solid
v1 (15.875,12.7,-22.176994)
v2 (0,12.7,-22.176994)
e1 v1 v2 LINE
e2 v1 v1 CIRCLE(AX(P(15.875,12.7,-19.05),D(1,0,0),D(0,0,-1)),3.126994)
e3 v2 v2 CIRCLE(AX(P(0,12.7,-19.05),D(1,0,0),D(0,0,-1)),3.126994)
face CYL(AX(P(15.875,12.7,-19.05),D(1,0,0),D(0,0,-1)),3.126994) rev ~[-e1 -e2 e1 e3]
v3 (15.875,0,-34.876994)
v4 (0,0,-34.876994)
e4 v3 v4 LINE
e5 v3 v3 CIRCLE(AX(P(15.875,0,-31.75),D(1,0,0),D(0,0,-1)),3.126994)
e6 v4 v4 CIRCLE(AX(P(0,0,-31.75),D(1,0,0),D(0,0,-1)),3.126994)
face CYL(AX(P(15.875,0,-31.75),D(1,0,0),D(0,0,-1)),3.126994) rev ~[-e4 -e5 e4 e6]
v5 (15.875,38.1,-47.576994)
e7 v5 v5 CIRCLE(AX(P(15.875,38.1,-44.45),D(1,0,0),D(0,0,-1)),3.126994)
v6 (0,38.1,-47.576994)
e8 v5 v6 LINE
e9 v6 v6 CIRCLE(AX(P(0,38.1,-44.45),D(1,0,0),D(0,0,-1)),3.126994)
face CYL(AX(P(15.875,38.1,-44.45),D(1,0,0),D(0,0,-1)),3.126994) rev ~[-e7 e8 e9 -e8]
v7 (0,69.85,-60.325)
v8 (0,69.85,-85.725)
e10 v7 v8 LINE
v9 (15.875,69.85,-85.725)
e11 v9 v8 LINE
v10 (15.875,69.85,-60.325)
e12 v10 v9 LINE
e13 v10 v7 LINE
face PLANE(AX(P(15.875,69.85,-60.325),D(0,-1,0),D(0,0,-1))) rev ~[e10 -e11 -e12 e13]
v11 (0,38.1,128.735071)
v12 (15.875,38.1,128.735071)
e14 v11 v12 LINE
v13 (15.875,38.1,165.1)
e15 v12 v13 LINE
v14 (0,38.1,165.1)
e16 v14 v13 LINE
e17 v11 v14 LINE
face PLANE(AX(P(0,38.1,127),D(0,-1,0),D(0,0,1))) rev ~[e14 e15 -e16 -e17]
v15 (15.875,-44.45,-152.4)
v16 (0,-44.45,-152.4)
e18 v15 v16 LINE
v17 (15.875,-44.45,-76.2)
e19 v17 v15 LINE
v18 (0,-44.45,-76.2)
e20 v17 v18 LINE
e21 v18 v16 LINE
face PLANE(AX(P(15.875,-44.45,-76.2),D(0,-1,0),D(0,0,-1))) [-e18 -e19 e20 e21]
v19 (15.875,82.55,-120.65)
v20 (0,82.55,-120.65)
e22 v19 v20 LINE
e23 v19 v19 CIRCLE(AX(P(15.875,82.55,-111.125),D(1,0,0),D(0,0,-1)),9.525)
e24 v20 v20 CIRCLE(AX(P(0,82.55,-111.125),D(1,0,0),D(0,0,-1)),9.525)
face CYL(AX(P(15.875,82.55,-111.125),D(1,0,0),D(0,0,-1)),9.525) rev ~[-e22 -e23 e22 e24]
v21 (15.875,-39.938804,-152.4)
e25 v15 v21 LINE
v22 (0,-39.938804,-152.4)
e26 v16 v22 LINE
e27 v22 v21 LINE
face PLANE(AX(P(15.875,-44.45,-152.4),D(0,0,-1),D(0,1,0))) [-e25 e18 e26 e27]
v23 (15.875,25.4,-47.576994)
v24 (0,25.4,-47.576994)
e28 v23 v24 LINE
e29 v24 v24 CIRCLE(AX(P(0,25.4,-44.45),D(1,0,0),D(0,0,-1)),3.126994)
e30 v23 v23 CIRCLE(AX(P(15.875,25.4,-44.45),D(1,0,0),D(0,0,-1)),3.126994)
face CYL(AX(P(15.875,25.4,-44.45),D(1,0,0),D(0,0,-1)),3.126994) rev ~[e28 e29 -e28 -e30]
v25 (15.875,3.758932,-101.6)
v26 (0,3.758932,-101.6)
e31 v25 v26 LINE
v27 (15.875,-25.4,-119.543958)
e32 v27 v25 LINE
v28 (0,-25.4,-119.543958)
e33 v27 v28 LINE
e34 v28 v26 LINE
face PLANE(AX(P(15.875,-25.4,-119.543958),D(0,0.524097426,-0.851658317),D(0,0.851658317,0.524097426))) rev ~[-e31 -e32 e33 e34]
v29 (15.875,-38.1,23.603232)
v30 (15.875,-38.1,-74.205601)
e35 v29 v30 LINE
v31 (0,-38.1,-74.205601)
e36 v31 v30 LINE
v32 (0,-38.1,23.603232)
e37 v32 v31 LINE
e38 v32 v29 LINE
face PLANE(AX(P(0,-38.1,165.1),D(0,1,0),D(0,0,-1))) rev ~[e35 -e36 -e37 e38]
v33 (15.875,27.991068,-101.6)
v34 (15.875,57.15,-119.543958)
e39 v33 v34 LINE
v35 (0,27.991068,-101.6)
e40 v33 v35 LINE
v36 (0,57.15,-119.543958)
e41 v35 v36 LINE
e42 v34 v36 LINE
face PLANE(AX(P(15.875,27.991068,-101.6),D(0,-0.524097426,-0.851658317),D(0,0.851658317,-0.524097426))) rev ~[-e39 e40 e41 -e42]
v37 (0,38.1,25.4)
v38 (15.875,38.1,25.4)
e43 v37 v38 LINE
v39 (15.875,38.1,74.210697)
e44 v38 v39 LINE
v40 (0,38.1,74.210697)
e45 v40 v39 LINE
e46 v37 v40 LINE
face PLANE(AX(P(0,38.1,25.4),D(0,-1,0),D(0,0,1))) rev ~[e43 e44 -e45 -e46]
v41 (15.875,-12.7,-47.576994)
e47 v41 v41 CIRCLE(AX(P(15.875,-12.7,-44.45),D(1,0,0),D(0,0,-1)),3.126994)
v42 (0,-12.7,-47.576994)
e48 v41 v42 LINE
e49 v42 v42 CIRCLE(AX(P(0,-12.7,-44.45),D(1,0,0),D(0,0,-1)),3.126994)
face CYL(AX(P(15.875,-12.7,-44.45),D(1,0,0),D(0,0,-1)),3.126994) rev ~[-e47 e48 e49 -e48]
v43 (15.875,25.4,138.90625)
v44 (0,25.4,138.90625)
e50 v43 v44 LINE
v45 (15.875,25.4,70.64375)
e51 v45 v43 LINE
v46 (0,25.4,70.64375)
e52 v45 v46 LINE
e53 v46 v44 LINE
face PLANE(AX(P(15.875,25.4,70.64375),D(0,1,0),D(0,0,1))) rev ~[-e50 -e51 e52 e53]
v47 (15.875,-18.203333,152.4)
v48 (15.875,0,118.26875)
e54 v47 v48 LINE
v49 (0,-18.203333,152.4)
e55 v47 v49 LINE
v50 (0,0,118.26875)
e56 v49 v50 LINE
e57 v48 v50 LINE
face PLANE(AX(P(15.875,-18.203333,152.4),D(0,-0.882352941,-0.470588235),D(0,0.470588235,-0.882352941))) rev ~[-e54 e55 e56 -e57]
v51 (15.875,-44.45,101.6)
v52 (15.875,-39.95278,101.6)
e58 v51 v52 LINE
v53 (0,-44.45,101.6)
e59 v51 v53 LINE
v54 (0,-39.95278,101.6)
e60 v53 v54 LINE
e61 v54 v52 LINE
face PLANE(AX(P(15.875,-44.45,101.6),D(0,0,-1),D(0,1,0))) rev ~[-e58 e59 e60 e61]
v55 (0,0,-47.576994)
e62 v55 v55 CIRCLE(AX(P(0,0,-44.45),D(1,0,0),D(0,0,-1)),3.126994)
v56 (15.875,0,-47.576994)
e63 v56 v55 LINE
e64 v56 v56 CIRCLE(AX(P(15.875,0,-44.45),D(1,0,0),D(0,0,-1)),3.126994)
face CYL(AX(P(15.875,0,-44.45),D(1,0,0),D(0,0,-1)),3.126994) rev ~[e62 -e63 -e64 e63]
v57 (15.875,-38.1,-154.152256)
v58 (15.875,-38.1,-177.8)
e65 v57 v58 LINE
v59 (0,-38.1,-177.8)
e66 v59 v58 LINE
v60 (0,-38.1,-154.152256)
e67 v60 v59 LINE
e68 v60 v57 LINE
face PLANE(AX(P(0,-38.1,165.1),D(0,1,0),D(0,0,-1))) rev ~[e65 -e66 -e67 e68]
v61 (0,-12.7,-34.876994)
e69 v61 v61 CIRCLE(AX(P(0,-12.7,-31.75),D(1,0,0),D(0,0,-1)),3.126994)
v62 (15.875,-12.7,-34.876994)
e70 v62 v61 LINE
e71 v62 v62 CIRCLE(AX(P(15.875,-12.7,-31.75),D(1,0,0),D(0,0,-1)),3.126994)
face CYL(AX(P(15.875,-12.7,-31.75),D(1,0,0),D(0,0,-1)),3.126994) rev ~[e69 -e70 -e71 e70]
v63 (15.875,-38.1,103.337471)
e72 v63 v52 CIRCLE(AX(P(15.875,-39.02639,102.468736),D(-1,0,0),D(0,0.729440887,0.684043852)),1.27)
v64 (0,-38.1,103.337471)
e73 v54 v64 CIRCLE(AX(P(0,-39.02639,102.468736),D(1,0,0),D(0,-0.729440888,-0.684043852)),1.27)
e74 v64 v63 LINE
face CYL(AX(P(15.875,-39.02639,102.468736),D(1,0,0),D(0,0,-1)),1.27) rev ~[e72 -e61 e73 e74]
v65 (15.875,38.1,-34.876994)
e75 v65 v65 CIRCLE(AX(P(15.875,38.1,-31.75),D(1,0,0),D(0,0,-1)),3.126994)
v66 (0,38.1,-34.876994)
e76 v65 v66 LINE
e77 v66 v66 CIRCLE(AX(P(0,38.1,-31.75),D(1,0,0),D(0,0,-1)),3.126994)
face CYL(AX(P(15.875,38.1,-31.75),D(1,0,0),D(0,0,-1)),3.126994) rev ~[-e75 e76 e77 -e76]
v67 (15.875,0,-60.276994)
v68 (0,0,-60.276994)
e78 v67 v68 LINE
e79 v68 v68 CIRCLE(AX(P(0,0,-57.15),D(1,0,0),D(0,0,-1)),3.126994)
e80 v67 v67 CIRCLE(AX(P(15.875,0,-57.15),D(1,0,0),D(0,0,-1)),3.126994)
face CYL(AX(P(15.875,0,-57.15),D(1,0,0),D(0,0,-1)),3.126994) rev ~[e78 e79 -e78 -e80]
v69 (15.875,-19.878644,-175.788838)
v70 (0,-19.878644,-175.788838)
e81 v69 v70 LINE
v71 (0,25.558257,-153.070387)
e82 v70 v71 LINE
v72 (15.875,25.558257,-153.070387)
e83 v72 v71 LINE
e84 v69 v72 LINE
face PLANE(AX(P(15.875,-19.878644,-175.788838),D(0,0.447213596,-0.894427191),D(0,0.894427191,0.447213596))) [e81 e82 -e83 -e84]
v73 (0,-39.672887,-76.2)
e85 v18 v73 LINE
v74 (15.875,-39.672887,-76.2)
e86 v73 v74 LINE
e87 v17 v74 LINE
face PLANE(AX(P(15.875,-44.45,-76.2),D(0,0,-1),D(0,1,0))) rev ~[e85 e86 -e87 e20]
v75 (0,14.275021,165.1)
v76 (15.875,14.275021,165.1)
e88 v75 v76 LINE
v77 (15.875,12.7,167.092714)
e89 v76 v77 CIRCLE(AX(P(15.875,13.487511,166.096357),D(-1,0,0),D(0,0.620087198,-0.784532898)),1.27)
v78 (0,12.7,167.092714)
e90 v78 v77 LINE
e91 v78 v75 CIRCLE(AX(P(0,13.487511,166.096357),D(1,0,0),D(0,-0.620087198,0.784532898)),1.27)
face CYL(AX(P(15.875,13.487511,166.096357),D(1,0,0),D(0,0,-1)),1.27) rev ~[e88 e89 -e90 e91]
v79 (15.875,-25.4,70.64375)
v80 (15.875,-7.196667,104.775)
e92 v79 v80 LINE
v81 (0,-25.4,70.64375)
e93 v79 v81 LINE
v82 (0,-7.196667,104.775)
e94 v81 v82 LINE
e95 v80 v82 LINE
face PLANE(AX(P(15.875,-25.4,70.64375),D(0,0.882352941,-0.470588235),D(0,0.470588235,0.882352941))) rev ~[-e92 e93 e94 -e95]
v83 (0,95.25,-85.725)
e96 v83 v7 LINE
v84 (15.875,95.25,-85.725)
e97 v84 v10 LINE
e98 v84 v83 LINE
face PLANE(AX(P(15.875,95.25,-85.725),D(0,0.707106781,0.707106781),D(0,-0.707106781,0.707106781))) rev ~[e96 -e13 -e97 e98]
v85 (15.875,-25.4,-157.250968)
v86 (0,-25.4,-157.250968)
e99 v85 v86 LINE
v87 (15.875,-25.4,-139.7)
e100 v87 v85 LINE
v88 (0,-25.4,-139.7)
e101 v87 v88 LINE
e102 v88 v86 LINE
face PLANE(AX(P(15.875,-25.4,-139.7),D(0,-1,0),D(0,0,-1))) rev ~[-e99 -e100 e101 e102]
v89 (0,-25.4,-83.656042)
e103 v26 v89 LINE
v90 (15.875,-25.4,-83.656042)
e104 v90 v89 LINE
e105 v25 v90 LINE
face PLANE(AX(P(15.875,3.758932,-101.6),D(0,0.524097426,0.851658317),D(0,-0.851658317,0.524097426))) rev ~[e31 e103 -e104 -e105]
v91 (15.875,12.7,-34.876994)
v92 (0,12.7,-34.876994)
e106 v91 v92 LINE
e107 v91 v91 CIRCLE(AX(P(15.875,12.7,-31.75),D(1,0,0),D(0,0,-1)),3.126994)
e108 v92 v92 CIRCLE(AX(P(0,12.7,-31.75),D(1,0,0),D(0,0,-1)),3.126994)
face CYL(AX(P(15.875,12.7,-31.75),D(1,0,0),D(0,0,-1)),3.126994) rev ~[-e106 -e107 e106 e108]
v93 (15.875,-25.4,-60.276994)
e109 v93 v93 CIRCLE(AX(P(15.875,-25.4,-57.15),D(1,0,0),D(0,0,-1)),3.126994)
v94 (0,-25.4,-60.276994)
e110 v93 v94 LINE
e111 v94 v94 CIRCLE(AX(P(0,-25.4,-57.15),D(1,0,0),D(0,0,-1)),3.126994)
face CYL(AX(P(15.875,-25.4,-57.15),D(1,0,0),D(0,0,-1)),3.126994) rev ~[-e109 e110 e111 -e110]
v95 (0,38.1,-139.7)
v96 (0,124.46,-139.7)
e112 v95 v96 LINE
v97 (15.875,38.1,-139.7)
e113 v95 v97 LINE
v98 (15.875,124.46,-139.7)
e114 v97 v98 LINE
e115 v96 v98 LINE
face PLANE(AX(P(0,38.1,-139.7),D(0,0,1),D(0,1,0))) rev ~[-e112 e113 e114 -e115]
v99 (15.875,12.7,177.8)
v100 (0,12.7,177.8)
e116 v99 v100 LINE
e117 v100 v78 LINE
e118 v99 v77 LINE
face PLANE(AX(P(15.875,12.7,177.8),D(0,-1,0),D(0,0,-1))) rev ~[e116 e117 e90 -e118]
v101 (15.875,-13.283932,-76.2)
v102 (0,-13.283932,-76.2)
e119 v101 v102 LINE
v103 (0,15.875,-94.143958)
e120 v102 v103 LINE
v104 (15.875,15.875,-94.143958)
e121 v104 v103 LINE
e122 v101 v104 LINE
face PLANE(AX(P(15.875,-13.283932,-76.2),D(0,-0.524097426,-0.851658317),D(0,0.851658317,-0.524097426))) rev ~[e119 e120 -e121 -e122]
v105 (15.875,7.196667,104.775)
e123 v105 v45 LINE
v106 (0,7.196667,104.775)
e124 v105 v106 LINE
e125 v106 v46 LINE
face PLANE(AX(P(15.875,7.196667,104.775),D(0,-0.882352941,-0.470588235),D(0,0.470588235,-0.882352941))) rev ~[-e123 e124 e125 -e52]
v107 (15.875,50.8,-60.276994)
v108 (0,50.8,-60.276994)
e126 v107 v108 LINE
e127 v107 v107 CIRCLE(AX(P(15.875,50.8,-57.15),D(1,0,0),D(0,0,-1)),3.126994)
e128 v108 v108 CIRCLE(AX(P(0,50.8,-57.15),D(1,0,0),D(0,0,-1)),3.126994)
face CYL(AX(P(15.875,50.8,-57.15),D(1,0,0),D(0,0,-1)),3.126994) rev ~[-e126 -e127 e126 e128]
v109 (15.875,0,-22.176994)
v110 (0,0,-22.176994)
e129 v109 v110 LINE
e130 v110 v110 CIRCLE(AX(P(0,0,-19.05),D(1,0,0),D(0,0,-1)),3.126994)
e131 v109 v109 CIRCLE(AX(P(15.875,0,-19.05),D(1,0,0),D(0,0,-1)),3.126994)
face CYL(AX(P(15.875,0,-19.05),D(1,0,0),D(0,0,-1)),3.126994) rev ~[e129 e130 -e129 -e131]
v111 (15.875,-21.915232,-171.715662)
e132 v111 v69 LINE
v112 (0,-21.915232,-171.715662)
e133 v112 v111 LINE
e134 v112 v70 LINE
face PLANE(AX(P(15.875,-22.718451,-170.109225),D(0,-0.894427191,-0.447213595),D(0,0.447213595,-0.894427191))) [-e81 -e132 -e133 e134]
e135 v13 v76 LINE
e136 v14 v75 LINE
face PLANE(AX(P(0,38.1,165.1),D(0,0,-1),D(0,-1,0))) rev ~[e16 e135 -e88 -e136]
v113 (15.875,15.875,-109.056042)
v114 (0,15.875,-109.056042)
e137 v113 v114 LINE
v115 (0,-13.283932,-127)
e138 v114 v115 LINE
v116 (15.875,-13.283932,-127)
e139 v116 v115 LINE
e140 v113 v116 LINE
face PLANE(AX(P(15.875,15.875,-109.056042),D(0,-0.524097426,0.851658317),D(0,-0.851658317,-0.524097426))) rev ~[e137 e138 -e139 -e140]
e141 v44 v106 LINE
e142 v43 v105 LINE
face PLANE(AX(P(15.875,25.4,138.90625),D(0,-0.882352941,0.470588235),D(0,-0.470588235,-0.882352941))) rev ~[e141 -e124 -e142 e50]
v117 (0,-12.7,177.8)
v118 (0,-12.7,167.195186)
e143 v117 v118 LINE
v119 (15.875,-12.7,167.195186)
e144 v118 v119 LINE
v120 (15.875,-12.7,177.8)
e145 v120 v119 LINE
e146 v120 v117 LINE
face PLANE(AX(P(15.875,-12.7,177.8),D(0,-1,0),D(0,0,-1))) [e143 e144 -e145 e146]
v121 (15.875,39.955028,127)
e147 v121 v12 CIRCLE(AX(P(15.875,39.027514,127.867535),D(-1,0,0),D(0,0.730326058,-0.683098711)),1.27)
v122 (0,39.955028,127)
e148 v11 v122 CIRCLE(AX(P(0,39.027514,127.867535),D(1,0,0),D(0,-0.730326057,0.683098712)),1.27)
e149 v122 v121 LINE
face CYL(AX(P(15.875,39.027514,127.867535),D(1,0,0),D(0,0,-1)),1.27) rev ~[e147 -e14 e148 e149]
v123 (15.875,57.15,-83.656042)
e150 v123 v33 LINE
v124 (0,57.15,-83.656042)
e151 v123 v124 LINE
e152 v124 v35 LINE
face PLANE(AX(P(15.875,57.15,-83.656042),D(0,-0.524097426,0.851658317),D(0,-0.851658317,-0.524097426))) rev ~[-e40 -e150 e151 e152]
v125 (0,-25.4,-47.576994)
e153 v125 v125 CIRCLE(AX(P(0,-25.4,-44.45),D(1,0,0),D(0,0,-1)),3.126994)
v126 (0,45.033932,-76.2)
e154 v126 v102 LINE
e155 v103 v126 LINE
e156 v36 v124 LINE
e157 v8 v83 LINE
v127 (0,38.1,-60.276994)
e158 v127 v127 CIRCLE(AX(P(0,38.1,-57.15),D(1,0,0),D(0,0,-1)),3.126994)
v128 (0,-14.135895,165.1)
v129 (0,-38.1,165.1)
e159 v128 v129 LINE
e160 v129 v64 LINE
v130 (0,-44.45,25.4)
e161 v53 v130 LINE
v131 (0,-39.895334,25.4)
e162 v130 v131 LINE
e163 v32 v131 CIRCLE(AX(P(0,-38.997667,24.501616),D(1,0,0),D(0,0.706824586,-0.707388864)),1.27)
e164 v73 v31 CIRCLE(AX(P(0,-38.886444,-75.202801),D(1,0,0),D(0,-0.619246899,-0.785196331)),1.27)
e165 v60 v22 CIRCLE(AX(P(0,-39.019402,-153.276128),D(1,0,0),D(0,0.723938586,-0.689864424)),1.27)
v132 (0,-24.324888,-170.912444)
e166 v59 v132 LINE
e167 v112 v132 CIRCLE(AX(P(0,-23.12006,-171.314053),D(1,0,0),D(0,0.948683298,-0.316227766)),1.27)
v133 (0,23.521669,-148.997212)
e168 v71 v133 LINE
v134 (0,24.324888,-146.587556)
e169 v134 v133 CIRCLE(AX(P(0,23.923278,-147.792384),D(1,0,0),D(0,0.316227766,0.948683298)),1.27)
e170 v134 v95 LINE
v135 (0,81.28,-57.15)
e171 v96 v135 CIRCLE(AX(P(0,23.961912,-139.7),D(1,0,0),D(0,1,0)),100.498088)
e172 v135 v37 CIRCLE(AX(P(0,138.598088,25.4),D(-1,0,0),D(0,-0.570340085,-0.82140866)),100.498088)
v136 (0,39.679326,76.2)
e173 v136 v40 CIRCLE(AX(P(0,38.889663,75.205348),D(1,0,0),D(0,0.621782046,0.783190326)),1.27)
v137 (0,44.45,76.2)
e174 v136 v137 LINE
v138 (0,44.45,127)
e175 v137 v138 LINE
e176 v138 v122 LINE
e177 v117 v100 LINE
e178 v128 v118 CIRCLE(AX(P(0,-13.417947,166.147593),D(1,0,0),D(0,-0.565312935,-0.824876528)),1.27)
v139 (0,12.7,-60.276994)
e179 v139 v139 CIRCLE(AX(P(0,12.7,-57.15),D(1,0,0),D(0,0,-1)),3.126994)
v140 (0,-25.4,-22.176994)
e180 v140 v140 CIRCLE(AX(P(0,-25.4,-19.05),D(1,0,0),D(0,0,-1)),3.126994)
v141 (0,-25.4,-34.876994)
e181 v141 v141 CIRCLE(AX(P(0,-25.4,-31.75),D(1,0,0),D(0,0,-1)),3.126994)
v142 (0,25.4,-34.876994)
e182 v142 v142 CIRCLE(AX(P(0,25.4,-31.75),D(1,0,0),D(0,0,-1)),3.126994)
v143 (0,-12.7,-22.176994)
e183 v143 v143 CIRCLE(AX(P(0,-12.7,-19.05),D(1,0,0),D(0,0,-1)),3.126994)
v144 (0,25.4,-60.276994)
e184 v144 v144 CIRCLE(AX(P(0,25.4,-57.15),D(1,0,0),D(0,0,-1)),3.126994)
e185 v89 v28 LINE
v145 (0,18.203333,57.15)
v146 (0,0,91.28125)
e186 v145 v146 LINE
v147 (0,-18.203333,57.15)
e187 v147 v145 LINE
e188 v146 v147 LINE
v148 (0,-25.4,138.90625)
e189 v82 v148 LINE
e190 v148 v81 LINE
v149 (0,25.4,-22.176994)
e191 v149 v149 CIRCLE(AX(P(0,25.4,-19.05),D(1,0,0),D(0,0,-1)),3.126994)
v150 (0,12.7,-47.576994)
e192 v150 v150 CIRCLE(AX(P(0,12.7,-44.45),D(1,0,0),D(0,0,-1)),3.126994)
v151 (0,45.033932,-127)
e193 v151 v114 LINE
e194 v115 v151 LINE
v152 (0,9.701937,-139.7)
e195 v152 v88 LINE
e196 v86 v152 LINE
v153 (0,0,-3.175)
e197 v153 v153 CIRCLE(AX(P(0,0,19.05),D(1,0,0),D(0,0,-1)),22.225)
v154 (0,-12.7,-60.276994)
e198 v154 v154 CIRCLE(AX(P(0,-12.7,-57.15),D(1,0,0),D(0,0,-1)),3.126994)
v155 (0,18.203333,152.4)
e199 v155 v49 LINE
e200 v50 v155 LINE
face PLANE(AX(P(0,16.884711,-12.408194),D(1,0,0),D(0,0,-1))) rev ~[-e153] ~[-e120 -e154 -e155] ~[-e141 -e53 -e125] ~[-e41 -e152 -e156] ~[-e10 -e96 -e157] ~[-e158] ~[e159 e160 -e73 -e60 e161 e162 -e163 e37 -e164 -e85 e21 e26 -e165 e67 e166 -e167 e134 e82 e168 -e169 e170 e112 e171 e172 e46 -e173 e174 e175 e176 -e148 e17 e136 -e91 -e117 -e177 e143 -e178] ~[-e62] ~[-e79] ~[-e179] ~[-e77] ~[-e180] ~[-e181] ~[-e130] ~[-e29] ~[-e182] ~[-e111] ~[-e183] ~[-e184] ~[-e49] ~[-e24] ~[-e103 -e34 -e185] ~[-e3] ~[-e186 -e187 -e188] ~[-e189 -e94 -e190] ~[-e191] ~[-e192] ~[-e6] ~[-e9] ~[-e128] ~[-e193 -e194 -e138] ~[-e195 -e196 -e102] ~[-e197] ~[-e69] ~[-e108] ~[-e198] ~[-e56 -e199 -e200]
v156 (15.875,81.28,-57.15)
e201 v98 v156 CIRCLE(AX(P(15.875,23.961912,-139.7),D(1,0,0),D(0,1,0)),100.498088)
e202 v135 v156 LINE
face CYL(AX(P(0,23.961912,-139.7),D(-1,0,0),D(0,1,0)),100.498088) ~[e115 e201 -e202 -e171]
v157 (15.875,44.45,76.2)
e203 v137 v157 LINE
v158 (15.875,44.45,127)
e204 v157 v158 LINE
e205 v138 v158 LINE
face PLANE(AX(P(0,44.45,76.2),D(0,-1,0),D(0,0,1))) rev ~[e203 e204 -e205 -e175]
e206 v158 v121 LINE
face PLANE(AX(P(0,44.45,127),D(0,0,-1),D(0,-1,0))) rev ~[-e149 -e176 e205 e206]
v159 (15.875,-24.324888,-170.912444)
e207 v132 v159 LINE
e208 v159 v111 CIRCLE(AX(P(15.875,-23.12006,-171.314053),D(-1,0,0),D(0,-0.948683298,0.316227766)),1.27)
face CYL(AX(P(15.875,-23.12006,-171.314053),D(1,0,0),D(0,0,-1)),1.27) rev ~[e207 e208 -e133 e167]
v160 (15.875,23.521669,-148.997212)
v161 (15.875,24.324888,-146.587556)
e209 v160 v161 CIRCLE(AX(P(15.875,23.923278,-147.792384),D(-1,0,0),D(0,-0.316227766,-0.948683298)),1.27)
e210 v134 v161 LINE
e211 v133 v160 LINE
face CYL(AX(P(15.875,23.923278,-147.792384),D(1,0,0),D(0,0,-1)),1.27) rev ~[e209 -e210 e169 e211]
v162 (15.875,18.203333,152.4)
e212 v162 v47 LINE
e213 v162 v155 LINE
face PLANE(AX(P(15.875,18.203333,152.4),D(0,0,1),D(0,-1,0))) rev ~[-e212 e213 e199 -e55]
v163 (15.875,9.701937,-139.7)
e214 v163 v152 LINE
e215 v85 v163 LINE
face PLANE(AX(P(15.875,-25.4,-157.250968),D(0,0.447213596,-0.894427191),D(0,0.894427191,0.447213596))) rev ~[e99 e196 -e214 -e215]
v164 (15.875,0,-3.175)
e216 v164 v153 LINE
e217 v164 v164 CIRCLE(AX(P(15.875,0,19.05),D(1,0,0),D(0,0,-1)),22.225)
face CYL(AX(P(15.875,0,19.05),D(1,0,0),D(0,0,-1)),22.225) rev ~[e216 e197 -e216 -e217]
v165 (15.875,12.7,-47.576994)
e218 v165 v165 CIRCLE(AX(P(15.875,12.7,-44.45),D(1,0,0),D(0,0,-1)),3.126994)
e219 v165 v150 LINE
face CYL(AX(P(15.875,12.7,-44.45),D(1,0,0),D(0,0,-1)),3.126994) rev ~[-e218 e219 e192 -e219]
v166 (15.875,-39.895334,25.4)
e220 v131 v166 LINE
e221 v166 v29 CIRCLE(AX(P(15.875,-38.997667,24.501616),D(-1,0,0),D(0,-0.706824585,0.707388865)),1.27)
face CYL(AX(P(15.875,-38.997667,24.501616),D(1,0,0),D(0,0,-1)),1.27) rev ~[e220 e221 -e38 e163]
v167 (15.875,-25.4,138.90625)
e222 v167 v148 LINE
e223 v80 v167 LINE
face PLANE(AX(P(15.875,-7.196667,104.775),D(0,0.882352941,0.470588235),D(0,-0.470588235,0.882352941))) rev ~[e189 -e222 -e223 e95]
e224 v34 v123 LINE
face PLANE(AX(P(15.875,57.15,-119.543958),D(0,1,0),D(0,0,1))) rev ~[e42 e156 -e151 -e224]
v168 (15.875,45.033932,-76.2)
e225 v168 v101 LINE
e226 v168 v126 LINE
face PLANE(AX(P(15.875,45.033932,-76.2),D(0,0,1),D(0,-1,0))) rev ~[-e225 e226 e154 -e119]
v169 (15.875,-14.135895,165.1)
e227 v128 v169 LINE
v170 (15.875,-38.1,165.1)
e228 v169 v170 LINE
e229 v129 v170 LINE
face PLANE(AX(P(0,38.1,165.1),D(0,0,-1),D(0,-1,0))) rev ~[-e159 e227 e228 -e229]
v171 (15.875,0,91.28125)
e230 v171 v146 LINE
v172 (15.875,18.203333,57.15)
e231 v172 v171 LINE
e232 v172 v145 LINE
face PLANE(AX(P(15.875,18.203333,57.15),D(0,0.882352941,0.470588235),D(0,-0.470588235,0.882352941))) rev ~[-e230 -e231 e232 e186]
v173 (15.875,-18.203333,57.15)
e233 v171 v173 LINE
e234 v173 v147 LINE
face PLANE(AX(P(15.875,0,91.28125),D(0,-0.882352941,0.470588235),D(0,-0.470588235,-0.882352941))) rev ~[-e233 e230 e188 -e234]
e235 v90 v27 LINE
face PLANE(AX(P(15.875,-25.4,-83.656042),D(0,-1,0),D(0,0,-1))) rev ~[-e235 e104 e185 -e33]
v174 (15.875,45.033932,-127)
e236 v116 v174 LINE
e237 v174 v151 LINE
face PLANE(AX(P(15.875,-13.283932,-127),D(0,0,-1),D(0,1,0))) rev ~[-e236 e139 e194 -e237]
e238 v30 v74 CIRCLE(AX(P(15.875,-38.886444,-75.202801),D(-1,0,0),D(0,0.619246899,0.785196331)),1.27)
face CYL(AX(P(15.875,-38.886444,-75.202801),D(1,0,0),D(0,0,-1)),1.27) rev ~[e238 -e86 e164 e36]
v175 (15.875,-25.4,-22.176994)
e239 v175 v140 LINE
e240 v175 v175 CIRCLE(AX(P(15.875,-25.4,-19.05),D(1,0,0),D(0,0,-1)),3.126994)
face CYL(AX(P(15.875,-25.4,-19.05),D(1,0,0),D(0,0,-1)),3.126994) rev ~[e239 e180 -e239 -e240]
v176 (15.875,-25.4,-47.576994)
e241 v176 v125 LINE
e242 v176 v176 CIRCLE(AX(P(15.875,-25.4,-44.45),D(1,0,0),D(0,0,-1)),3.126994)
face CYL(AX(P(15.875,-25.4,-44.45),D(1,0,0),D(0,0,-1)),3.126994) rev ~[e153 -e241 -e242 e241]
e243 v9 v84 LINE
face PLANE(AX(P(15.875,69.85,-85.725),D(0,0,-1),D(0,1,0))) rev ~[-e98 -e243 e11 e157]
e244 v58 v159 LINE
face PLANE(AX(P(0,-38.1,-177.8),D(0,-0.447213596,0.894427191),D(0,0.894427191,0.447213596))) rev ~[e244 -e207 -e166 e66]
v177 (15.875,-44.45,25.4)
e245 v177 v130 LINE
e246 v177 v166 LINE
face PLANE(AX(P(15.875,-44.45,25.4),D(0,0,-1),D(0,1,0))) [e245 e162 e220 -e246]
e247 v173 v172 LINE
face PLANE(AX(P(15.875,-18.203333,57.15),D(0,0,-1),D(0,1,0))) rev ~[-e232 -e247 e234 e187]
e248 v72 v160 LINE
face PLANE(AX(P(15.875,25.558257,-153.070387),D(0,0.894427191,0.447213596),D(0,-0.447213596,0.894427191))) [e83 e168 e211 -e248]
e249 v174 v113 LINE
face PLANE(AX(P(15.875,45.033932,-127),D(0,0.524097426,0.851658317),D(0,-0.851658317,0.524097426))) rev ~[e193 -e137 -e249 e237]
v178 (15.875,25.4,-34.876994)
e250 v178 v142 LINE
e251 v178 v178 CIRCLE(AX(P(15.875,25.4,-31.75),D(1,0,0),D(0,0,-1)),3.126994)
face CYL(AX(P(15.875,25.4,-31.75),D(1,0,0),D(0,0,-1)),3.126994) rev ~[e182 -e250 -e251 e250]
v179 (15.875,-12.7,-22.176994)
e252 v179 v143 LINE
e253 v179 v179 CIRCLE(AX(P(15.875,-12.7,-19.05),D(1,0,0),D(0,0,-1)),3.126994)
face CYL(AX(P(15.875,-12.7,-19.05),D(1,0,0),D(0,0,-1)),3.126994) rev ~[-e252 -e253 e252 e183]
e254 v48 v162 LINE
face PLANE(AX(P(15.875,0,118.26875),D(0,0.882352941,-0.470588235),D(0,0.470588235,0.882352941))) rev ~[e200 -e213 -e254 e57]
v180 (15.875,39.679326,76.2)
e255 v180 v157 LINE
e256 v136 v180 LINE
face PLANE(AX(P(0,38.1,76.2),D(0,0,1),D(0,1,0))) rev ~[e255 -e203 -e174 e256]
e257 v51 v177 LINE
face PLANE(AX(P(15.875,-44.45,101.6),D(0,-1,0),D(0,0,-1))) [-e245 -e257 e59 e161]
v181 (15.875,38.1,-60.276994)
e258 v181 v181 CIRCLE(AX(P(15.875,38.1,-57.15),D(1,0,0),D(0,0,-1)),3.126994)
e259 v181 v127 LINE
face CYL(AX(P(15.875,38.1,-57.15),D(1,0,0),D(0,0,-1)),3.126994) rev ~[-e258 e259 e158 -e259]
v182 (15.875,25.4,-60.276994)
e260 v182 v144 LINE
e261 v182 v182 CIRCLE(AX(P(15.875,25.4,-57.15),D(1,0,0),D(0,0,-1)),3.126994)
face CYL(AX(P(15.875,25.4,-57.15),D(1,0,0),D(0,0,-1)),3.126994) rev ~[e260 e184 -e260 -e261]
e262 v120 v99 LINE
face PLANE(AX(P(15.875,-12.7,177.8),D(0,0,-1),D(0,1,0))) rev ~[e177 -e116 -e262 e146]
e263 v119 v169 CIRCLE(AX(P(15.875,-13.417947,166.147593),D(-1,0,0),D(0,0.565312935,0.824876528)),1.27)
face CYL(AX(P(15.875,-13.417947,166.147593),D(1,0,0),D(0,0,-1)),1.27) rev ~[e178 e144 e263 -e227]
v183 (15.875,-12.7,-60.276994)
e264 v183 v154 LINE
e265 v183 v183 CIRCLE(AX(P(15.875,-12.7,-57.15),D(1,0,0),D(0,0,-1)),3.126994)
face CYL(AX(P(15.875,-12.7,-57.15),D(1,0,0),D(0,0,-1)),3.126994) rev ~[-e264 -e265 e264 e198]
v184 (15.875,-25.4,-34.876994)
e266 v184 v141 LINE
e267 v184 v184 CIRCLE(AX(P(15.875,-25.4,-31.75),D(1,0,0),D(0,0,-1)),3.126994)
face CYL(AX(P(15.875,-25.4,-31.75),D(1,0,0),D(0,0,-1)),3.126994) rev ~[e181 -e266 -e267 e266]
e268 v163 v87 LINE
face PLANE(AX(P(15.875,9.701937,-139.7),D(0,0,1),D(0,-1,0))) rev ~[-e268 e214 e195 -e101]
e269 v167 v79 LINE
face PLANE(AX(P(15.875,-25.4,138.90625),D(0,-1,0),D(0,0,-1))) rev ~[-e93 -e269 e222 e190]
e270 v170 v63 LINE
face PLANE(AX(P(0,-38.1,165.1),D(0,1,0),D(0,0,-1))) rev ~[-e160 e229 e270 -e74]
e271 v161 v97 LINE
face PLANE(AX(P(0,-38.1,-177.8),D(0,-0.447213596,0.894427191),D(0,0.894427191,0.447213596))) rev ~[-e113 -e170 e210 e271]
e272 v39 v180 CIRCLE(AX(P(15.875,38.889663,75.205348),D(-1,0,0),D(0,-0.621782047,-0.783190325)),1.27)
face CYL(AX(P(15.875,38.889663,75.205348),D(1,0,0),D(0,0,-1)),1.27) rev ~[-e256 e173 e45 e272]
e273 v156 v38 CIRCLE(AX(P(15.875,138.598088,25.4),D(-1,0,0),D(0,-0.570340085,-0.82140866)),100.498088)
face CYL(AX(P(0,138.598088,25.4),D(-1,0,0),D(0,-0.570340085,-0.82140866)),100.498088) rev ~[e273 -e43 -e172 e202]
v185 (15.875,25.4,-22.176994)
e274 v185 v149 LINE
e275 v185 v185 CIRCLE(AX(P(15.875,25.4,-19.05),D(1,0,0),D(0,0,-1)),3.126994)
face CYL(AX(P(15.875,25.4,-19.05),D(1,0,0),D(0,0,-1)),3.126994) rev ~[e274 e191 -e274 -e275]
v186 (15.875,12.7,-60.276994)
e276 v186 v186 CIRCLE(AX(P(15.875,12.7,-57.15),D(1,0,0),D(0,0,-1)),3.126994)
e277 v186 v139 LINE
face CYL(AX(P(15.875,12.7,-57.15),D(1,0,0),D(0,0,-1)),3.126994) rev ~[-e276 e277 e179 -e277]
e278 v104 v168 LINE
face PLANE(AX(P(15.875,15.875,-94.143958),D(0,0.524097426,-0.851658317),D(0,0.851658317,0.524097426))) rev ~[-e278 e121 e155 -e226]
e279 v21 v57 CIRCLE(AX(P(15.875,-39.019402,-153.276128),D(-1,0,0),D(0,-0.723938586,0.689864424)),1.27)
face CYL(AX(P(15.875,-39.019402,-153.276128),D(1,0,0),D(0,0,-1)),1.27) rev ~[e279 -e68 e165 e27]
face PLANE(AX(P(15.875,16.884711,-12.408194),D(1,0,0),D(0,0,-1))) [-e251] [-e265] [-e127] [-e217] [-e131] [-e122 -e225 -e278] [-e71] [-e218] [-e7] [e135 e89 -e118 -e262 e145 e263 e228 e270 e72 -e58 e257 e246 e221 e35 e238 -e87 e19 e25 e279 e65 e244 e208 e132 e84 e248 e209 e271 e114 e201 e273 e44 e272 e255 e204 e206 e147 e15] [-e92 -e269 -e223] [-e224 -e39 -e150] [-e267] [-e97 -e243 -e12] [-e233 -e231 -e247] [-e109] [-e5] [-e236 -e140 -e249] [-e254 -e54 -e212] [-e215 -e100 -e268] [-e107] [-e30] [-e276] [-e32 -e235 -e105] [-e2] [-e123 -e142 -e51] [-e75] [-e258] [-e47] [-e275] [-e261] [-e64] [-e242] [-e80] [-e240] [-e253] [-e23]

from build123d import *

# Parameters (mm, degrees)
BOSS_EXTRUDE1_DEPTH = 15.875
SKETCH2_R           = 9.525
CUT_EXTRUDE1_DEPTH  = 218.612378382
SKETCH3_W           = 76.2
SKETCH3_H           = 6.35
SKETCH3_W_2         = 12.7
SKETCH3_H_2         = 25.4
BOSS_EXTRUDE2_DEPTH = 15.875
SKETCH9_R           = 22.225
CUT_EXTRUDE4_DEPTH  = 218.612378382
CUT_EXTRUDE6_DEPTH  = 218.612378382
BOSS_EXTRUDE3_DEPTH = 15.875
SKETCH15_R          = 1.27
CUT_EXTRUDE8_DEPTH  = 218.612378382
SKETCH13_R          = 3.126994
CUT_EXTRUDE9_DEPTH  = 218.612378382
CUT_EXTRUDE10_DEPTH = 218.612378382


with BuildPart() as part:
    # Sketch1 → Boss-Extrude1 (new body)
    with BuildSketch(Plane(origin=(0, 0, 0), x_dir=(0, 0, -1), z_dir=(1, 0, 0))):
        with BuildLine():
            ThreePointArc((57.15, 81.28), (21.180615335, 49.546911859), (-25.4, 38.1))
            Line((-25.4, 38.1), (-76.2, 38.1))
            Line((-76.2, 38.1), (-76.2, 44.45))
            Line((-76.2, 44.45), (-127, 44.45))
            Line((-127, 44.45), (-127, 38.1))
            Line((-127, 38.1), (-165.1, 38.1))
            Line((-165.1, 38.1), (-165.1, -38.1))
            Line((-165.1, -38.1), (177.8, -38.1))
            Line((177.8, -38.1), (139.7, 38.1))
            Line((139.7, 38.1), (139.7, 124.46))
            ThreePointArc((139.7, 124.46), (93.119384665, 113.013088141), (57.15, 81.28))
        make_face()
    extrude(amount=BOSS_EXTRUDE1_DEPTH)

    # Sketch2 → Cut-Extrude1 (cut, through all)
    with BuildSketch(Plane(origin=(15.875, 0, 0), x_dir=(0, 0, -1), z_dir=(1, 0, 0))):
        with Locations((111.125, 82.55)):
            Circle(SKETCH2_R)
    extrude(amount=-CUT_EXTRUDE1_DEPTH, mode=Mode.SUBTRACT)

    # Sketch3 → Boss-Extrude2 (add)
    with BuildSketch(Plane(origin=(15.875, 0, 0), x_dir=(0, 0, -1), z_dir=(1, 0, 0))):
        with Locations((114.3, -41.275)):
            Rectangle(SKETCH3_W, SKETCH3_H)
        with Locations((-63.5, -41.275)):
            Rectangle(SKETCH3_W, SKETCH3_H)
        with Locations((-171.45, 0)):
            Rectangle(SKETCH3_W_2, SKETCH3_H_2)
    extrude(amount=-BOSS_EXTRUDE2_DEPTH)

    # Sketch9 → Cut-Extrude4 (cut, through all)
    with BuildSketch(Plane(origin=(15.875, 0, 0), x_dir=(0, 0, -1), z_dir=(1, 0, 0))):
        with Locations((-19.05, 0)):
            Circle(SKETCH9_R)
    extrude(amount=-CUT_EXTRUDE4_DEPTH, mode=Mode.SUBTRACT)

    # Sketch12 → Cut-Extrude6 (cut, through all)
    with BuildSketch(Plane(origin=(15.875, 0, 0), x_dir=(0, 0, -1), z_dir=(1, 0, 0))):
        Polygon((139.7, 9.701936686), (139.7, -25.4), (157.250968343, -25.4), align=None)
        Polygon((109.05604179, 15.875), (127, -13.283932092), (127, 45.033932092), align=None)
        Polygon((119.54395821, -25.4), (101.6, 3.758932092), (83.65604179, -25.4), align=None)
        Polygon((76.2, -13.283932092), (94.14395821, 15.875), (76.2, 45.033932092), align=None)
        Polygon((83.65604179, 57.15), (101.6, 27.991067908), (119.54395821, 57.15), align=None)
        Polygon((-57.15, -18.203333333), (-57.15, 18.203333333), (-91.28125, 0), align=None)
        Polygon((-70.64375, -25.4), (-104.775, -7.196666667), (-138.90625, -25.4), align=None)
        Polygon((-152.4, -18.203333333), (-118.26875, 0), (-152.4, 18.203333333), align=None)
        Polygon((-104.775, 7.196666667), (-70.64375, 25.4), (-138.90625, 25.4), align=None)
    extrude(amount=-CUT_EXTRUDE6_DEPTH, mode=Mode.SUBTRACT)

    # Sketch14 → Boss-Extrude3 (add)
    with BuildSketch(Plane(origin=(15.875, 0, 0), x_dir=(0, 0, -1), z_dir=(1, 0, 0))):
        Polygon((147.390774674, 22.718450651), (170.109225326, -22.718450651), (175.788837989, -19.87864432), (153.070387337, 25.558256983), align=None)
    extrude(amount=-BOSS_EXTRUDE3_DEPTH)

    # Sketch15 → Cut-Extrude8 (cut, through all)
    with BuildSketch(Plane(origin=(15.875, 0, 0), x_dir=(0, 0, -1), z_dir=(1, 0, 0))):
        with Locations((-166.14759319, -13.417947427)):
            Circle(SKETCH15_R)
        with Locations((-127.867535363, 39.027514093)):
            Circle(SKETCH15_R)
        with Locations((-102.468735692, -39.026389927)):
            Circle(SKETCH15_R)
        with Locations((75.20280066, -38.886443562)):
            Circle(SKETCH15_R)
        with Locations((153.276127819, -39.019402004)):
            Circle(SKETCH15_R)
        with Locations((-24.501616142, -38.997667224)):
            Circle(SKETCH15_R)
        with Locations((-166.09635678, 13.487510741)):
            Circle(SKETCH15_R)
        with Locations((-75.205348286, 38.8896632)):
            Circle(SKETCH15_R)
        with Locations((171.314053114, -23.120059914)):
            Circle(SKETCH15_R)
        with Locations((147.792383937, 23.92327844)):
            Circle(SKETCH15_R)
    extrude(amount=-CUT_EXTRUDE8_DEPTH, mode=Mode.SUBTRACT)

    # Sketch13 → Cut-Extrude9 (cut, through all)
    with BuildSketch(Plane(origin=(15.875, 0, 0), x_dir=(0, 0, -1), z_dir=(1, 0, 0))):
        with Locations((31.75, -25.4)):
            Circle(SKETCH13_R)
        with Locations((19.05, -25.4)):
            Circle(SKETCH13_R)
        with Locations((44.45, -25.4)):
            Circle(SKETCH13_R)
        with Locations((57.15, -25.4)):
            Circle(SKETCH13_R)
        with Locations((19.05, -12.7)):
            Circle(SKETCH13_R)
        with Locations((31.75, -12.7)):
            Circle(SKETCH13_R)
        with Locations((44.45, -12.7)):
            Circle(SKETCH13_R)
        with Locations((57.15, -12.7)):
            Circle(SKETCH13_R)
        with Locations((19.05, 0)):
            Circle(SKETCH13_R)
        with Locations((31.75, 0)):
            Circle(SKETCH13_R)
        with Locations((44.45, 0)):
            Circle(SKETCH13_R)
        with Locations((57.15, 0)):
            Circle(SKETCH13_R)
        with Locations((19.05, 12.7)):
            Circle(SKETCH13_R)
        with Locations((31.75, 12.7)):
            Circle(SKETCH13_R)
        with Locations((44.45, 12.7)):
            Circle(SKETCH13_R)
        with Locations((57.15, 12.7)):
            Circle(SKETCH13_R)
        with Locations((19.05, 25.4)):
            Circle(SKETCH13_R)
        with Locations((31.75, 25.4)):
            Circle(SKETCH13_R)
        with Locations((44.45, 25.4)):
            Circle(SKETCH13_R)
        with Locations((57.15, 25.4)):
            Circle(SKETCH13_R)
        with Locations((31.75, 38.1)):
            Circle(SKETCH13_R)
        with Locations((44.45, 38.1)):
            Circle(SKETCH13_R)
        with Locations((57.15, 38.1)):
            Circle(SKETCH13_R)
        with Locations((57.15, 50.8)):
            Circle(SKETCH13_R)
    extrude(amount=-CUT_EXTRUDE9_DEPTH, mode=Mode.SUBTRACT)

    # Sketch17 → Cut-Extrude10 (cut, through all)
    with BuildSketch(Plane(origin=(15.875, 0, 0), x_dir=(0, 0, -1), z_dir=(1, 0, 0))):
        Polygon((60.325, 69.85), (85.725, 69.85), (85.725, 95.25), align=None)
    extrude(amount=-CUT_EXTRUDE10_DEPTH, mode=Mode.SUBTRACT)


solid = part.part
